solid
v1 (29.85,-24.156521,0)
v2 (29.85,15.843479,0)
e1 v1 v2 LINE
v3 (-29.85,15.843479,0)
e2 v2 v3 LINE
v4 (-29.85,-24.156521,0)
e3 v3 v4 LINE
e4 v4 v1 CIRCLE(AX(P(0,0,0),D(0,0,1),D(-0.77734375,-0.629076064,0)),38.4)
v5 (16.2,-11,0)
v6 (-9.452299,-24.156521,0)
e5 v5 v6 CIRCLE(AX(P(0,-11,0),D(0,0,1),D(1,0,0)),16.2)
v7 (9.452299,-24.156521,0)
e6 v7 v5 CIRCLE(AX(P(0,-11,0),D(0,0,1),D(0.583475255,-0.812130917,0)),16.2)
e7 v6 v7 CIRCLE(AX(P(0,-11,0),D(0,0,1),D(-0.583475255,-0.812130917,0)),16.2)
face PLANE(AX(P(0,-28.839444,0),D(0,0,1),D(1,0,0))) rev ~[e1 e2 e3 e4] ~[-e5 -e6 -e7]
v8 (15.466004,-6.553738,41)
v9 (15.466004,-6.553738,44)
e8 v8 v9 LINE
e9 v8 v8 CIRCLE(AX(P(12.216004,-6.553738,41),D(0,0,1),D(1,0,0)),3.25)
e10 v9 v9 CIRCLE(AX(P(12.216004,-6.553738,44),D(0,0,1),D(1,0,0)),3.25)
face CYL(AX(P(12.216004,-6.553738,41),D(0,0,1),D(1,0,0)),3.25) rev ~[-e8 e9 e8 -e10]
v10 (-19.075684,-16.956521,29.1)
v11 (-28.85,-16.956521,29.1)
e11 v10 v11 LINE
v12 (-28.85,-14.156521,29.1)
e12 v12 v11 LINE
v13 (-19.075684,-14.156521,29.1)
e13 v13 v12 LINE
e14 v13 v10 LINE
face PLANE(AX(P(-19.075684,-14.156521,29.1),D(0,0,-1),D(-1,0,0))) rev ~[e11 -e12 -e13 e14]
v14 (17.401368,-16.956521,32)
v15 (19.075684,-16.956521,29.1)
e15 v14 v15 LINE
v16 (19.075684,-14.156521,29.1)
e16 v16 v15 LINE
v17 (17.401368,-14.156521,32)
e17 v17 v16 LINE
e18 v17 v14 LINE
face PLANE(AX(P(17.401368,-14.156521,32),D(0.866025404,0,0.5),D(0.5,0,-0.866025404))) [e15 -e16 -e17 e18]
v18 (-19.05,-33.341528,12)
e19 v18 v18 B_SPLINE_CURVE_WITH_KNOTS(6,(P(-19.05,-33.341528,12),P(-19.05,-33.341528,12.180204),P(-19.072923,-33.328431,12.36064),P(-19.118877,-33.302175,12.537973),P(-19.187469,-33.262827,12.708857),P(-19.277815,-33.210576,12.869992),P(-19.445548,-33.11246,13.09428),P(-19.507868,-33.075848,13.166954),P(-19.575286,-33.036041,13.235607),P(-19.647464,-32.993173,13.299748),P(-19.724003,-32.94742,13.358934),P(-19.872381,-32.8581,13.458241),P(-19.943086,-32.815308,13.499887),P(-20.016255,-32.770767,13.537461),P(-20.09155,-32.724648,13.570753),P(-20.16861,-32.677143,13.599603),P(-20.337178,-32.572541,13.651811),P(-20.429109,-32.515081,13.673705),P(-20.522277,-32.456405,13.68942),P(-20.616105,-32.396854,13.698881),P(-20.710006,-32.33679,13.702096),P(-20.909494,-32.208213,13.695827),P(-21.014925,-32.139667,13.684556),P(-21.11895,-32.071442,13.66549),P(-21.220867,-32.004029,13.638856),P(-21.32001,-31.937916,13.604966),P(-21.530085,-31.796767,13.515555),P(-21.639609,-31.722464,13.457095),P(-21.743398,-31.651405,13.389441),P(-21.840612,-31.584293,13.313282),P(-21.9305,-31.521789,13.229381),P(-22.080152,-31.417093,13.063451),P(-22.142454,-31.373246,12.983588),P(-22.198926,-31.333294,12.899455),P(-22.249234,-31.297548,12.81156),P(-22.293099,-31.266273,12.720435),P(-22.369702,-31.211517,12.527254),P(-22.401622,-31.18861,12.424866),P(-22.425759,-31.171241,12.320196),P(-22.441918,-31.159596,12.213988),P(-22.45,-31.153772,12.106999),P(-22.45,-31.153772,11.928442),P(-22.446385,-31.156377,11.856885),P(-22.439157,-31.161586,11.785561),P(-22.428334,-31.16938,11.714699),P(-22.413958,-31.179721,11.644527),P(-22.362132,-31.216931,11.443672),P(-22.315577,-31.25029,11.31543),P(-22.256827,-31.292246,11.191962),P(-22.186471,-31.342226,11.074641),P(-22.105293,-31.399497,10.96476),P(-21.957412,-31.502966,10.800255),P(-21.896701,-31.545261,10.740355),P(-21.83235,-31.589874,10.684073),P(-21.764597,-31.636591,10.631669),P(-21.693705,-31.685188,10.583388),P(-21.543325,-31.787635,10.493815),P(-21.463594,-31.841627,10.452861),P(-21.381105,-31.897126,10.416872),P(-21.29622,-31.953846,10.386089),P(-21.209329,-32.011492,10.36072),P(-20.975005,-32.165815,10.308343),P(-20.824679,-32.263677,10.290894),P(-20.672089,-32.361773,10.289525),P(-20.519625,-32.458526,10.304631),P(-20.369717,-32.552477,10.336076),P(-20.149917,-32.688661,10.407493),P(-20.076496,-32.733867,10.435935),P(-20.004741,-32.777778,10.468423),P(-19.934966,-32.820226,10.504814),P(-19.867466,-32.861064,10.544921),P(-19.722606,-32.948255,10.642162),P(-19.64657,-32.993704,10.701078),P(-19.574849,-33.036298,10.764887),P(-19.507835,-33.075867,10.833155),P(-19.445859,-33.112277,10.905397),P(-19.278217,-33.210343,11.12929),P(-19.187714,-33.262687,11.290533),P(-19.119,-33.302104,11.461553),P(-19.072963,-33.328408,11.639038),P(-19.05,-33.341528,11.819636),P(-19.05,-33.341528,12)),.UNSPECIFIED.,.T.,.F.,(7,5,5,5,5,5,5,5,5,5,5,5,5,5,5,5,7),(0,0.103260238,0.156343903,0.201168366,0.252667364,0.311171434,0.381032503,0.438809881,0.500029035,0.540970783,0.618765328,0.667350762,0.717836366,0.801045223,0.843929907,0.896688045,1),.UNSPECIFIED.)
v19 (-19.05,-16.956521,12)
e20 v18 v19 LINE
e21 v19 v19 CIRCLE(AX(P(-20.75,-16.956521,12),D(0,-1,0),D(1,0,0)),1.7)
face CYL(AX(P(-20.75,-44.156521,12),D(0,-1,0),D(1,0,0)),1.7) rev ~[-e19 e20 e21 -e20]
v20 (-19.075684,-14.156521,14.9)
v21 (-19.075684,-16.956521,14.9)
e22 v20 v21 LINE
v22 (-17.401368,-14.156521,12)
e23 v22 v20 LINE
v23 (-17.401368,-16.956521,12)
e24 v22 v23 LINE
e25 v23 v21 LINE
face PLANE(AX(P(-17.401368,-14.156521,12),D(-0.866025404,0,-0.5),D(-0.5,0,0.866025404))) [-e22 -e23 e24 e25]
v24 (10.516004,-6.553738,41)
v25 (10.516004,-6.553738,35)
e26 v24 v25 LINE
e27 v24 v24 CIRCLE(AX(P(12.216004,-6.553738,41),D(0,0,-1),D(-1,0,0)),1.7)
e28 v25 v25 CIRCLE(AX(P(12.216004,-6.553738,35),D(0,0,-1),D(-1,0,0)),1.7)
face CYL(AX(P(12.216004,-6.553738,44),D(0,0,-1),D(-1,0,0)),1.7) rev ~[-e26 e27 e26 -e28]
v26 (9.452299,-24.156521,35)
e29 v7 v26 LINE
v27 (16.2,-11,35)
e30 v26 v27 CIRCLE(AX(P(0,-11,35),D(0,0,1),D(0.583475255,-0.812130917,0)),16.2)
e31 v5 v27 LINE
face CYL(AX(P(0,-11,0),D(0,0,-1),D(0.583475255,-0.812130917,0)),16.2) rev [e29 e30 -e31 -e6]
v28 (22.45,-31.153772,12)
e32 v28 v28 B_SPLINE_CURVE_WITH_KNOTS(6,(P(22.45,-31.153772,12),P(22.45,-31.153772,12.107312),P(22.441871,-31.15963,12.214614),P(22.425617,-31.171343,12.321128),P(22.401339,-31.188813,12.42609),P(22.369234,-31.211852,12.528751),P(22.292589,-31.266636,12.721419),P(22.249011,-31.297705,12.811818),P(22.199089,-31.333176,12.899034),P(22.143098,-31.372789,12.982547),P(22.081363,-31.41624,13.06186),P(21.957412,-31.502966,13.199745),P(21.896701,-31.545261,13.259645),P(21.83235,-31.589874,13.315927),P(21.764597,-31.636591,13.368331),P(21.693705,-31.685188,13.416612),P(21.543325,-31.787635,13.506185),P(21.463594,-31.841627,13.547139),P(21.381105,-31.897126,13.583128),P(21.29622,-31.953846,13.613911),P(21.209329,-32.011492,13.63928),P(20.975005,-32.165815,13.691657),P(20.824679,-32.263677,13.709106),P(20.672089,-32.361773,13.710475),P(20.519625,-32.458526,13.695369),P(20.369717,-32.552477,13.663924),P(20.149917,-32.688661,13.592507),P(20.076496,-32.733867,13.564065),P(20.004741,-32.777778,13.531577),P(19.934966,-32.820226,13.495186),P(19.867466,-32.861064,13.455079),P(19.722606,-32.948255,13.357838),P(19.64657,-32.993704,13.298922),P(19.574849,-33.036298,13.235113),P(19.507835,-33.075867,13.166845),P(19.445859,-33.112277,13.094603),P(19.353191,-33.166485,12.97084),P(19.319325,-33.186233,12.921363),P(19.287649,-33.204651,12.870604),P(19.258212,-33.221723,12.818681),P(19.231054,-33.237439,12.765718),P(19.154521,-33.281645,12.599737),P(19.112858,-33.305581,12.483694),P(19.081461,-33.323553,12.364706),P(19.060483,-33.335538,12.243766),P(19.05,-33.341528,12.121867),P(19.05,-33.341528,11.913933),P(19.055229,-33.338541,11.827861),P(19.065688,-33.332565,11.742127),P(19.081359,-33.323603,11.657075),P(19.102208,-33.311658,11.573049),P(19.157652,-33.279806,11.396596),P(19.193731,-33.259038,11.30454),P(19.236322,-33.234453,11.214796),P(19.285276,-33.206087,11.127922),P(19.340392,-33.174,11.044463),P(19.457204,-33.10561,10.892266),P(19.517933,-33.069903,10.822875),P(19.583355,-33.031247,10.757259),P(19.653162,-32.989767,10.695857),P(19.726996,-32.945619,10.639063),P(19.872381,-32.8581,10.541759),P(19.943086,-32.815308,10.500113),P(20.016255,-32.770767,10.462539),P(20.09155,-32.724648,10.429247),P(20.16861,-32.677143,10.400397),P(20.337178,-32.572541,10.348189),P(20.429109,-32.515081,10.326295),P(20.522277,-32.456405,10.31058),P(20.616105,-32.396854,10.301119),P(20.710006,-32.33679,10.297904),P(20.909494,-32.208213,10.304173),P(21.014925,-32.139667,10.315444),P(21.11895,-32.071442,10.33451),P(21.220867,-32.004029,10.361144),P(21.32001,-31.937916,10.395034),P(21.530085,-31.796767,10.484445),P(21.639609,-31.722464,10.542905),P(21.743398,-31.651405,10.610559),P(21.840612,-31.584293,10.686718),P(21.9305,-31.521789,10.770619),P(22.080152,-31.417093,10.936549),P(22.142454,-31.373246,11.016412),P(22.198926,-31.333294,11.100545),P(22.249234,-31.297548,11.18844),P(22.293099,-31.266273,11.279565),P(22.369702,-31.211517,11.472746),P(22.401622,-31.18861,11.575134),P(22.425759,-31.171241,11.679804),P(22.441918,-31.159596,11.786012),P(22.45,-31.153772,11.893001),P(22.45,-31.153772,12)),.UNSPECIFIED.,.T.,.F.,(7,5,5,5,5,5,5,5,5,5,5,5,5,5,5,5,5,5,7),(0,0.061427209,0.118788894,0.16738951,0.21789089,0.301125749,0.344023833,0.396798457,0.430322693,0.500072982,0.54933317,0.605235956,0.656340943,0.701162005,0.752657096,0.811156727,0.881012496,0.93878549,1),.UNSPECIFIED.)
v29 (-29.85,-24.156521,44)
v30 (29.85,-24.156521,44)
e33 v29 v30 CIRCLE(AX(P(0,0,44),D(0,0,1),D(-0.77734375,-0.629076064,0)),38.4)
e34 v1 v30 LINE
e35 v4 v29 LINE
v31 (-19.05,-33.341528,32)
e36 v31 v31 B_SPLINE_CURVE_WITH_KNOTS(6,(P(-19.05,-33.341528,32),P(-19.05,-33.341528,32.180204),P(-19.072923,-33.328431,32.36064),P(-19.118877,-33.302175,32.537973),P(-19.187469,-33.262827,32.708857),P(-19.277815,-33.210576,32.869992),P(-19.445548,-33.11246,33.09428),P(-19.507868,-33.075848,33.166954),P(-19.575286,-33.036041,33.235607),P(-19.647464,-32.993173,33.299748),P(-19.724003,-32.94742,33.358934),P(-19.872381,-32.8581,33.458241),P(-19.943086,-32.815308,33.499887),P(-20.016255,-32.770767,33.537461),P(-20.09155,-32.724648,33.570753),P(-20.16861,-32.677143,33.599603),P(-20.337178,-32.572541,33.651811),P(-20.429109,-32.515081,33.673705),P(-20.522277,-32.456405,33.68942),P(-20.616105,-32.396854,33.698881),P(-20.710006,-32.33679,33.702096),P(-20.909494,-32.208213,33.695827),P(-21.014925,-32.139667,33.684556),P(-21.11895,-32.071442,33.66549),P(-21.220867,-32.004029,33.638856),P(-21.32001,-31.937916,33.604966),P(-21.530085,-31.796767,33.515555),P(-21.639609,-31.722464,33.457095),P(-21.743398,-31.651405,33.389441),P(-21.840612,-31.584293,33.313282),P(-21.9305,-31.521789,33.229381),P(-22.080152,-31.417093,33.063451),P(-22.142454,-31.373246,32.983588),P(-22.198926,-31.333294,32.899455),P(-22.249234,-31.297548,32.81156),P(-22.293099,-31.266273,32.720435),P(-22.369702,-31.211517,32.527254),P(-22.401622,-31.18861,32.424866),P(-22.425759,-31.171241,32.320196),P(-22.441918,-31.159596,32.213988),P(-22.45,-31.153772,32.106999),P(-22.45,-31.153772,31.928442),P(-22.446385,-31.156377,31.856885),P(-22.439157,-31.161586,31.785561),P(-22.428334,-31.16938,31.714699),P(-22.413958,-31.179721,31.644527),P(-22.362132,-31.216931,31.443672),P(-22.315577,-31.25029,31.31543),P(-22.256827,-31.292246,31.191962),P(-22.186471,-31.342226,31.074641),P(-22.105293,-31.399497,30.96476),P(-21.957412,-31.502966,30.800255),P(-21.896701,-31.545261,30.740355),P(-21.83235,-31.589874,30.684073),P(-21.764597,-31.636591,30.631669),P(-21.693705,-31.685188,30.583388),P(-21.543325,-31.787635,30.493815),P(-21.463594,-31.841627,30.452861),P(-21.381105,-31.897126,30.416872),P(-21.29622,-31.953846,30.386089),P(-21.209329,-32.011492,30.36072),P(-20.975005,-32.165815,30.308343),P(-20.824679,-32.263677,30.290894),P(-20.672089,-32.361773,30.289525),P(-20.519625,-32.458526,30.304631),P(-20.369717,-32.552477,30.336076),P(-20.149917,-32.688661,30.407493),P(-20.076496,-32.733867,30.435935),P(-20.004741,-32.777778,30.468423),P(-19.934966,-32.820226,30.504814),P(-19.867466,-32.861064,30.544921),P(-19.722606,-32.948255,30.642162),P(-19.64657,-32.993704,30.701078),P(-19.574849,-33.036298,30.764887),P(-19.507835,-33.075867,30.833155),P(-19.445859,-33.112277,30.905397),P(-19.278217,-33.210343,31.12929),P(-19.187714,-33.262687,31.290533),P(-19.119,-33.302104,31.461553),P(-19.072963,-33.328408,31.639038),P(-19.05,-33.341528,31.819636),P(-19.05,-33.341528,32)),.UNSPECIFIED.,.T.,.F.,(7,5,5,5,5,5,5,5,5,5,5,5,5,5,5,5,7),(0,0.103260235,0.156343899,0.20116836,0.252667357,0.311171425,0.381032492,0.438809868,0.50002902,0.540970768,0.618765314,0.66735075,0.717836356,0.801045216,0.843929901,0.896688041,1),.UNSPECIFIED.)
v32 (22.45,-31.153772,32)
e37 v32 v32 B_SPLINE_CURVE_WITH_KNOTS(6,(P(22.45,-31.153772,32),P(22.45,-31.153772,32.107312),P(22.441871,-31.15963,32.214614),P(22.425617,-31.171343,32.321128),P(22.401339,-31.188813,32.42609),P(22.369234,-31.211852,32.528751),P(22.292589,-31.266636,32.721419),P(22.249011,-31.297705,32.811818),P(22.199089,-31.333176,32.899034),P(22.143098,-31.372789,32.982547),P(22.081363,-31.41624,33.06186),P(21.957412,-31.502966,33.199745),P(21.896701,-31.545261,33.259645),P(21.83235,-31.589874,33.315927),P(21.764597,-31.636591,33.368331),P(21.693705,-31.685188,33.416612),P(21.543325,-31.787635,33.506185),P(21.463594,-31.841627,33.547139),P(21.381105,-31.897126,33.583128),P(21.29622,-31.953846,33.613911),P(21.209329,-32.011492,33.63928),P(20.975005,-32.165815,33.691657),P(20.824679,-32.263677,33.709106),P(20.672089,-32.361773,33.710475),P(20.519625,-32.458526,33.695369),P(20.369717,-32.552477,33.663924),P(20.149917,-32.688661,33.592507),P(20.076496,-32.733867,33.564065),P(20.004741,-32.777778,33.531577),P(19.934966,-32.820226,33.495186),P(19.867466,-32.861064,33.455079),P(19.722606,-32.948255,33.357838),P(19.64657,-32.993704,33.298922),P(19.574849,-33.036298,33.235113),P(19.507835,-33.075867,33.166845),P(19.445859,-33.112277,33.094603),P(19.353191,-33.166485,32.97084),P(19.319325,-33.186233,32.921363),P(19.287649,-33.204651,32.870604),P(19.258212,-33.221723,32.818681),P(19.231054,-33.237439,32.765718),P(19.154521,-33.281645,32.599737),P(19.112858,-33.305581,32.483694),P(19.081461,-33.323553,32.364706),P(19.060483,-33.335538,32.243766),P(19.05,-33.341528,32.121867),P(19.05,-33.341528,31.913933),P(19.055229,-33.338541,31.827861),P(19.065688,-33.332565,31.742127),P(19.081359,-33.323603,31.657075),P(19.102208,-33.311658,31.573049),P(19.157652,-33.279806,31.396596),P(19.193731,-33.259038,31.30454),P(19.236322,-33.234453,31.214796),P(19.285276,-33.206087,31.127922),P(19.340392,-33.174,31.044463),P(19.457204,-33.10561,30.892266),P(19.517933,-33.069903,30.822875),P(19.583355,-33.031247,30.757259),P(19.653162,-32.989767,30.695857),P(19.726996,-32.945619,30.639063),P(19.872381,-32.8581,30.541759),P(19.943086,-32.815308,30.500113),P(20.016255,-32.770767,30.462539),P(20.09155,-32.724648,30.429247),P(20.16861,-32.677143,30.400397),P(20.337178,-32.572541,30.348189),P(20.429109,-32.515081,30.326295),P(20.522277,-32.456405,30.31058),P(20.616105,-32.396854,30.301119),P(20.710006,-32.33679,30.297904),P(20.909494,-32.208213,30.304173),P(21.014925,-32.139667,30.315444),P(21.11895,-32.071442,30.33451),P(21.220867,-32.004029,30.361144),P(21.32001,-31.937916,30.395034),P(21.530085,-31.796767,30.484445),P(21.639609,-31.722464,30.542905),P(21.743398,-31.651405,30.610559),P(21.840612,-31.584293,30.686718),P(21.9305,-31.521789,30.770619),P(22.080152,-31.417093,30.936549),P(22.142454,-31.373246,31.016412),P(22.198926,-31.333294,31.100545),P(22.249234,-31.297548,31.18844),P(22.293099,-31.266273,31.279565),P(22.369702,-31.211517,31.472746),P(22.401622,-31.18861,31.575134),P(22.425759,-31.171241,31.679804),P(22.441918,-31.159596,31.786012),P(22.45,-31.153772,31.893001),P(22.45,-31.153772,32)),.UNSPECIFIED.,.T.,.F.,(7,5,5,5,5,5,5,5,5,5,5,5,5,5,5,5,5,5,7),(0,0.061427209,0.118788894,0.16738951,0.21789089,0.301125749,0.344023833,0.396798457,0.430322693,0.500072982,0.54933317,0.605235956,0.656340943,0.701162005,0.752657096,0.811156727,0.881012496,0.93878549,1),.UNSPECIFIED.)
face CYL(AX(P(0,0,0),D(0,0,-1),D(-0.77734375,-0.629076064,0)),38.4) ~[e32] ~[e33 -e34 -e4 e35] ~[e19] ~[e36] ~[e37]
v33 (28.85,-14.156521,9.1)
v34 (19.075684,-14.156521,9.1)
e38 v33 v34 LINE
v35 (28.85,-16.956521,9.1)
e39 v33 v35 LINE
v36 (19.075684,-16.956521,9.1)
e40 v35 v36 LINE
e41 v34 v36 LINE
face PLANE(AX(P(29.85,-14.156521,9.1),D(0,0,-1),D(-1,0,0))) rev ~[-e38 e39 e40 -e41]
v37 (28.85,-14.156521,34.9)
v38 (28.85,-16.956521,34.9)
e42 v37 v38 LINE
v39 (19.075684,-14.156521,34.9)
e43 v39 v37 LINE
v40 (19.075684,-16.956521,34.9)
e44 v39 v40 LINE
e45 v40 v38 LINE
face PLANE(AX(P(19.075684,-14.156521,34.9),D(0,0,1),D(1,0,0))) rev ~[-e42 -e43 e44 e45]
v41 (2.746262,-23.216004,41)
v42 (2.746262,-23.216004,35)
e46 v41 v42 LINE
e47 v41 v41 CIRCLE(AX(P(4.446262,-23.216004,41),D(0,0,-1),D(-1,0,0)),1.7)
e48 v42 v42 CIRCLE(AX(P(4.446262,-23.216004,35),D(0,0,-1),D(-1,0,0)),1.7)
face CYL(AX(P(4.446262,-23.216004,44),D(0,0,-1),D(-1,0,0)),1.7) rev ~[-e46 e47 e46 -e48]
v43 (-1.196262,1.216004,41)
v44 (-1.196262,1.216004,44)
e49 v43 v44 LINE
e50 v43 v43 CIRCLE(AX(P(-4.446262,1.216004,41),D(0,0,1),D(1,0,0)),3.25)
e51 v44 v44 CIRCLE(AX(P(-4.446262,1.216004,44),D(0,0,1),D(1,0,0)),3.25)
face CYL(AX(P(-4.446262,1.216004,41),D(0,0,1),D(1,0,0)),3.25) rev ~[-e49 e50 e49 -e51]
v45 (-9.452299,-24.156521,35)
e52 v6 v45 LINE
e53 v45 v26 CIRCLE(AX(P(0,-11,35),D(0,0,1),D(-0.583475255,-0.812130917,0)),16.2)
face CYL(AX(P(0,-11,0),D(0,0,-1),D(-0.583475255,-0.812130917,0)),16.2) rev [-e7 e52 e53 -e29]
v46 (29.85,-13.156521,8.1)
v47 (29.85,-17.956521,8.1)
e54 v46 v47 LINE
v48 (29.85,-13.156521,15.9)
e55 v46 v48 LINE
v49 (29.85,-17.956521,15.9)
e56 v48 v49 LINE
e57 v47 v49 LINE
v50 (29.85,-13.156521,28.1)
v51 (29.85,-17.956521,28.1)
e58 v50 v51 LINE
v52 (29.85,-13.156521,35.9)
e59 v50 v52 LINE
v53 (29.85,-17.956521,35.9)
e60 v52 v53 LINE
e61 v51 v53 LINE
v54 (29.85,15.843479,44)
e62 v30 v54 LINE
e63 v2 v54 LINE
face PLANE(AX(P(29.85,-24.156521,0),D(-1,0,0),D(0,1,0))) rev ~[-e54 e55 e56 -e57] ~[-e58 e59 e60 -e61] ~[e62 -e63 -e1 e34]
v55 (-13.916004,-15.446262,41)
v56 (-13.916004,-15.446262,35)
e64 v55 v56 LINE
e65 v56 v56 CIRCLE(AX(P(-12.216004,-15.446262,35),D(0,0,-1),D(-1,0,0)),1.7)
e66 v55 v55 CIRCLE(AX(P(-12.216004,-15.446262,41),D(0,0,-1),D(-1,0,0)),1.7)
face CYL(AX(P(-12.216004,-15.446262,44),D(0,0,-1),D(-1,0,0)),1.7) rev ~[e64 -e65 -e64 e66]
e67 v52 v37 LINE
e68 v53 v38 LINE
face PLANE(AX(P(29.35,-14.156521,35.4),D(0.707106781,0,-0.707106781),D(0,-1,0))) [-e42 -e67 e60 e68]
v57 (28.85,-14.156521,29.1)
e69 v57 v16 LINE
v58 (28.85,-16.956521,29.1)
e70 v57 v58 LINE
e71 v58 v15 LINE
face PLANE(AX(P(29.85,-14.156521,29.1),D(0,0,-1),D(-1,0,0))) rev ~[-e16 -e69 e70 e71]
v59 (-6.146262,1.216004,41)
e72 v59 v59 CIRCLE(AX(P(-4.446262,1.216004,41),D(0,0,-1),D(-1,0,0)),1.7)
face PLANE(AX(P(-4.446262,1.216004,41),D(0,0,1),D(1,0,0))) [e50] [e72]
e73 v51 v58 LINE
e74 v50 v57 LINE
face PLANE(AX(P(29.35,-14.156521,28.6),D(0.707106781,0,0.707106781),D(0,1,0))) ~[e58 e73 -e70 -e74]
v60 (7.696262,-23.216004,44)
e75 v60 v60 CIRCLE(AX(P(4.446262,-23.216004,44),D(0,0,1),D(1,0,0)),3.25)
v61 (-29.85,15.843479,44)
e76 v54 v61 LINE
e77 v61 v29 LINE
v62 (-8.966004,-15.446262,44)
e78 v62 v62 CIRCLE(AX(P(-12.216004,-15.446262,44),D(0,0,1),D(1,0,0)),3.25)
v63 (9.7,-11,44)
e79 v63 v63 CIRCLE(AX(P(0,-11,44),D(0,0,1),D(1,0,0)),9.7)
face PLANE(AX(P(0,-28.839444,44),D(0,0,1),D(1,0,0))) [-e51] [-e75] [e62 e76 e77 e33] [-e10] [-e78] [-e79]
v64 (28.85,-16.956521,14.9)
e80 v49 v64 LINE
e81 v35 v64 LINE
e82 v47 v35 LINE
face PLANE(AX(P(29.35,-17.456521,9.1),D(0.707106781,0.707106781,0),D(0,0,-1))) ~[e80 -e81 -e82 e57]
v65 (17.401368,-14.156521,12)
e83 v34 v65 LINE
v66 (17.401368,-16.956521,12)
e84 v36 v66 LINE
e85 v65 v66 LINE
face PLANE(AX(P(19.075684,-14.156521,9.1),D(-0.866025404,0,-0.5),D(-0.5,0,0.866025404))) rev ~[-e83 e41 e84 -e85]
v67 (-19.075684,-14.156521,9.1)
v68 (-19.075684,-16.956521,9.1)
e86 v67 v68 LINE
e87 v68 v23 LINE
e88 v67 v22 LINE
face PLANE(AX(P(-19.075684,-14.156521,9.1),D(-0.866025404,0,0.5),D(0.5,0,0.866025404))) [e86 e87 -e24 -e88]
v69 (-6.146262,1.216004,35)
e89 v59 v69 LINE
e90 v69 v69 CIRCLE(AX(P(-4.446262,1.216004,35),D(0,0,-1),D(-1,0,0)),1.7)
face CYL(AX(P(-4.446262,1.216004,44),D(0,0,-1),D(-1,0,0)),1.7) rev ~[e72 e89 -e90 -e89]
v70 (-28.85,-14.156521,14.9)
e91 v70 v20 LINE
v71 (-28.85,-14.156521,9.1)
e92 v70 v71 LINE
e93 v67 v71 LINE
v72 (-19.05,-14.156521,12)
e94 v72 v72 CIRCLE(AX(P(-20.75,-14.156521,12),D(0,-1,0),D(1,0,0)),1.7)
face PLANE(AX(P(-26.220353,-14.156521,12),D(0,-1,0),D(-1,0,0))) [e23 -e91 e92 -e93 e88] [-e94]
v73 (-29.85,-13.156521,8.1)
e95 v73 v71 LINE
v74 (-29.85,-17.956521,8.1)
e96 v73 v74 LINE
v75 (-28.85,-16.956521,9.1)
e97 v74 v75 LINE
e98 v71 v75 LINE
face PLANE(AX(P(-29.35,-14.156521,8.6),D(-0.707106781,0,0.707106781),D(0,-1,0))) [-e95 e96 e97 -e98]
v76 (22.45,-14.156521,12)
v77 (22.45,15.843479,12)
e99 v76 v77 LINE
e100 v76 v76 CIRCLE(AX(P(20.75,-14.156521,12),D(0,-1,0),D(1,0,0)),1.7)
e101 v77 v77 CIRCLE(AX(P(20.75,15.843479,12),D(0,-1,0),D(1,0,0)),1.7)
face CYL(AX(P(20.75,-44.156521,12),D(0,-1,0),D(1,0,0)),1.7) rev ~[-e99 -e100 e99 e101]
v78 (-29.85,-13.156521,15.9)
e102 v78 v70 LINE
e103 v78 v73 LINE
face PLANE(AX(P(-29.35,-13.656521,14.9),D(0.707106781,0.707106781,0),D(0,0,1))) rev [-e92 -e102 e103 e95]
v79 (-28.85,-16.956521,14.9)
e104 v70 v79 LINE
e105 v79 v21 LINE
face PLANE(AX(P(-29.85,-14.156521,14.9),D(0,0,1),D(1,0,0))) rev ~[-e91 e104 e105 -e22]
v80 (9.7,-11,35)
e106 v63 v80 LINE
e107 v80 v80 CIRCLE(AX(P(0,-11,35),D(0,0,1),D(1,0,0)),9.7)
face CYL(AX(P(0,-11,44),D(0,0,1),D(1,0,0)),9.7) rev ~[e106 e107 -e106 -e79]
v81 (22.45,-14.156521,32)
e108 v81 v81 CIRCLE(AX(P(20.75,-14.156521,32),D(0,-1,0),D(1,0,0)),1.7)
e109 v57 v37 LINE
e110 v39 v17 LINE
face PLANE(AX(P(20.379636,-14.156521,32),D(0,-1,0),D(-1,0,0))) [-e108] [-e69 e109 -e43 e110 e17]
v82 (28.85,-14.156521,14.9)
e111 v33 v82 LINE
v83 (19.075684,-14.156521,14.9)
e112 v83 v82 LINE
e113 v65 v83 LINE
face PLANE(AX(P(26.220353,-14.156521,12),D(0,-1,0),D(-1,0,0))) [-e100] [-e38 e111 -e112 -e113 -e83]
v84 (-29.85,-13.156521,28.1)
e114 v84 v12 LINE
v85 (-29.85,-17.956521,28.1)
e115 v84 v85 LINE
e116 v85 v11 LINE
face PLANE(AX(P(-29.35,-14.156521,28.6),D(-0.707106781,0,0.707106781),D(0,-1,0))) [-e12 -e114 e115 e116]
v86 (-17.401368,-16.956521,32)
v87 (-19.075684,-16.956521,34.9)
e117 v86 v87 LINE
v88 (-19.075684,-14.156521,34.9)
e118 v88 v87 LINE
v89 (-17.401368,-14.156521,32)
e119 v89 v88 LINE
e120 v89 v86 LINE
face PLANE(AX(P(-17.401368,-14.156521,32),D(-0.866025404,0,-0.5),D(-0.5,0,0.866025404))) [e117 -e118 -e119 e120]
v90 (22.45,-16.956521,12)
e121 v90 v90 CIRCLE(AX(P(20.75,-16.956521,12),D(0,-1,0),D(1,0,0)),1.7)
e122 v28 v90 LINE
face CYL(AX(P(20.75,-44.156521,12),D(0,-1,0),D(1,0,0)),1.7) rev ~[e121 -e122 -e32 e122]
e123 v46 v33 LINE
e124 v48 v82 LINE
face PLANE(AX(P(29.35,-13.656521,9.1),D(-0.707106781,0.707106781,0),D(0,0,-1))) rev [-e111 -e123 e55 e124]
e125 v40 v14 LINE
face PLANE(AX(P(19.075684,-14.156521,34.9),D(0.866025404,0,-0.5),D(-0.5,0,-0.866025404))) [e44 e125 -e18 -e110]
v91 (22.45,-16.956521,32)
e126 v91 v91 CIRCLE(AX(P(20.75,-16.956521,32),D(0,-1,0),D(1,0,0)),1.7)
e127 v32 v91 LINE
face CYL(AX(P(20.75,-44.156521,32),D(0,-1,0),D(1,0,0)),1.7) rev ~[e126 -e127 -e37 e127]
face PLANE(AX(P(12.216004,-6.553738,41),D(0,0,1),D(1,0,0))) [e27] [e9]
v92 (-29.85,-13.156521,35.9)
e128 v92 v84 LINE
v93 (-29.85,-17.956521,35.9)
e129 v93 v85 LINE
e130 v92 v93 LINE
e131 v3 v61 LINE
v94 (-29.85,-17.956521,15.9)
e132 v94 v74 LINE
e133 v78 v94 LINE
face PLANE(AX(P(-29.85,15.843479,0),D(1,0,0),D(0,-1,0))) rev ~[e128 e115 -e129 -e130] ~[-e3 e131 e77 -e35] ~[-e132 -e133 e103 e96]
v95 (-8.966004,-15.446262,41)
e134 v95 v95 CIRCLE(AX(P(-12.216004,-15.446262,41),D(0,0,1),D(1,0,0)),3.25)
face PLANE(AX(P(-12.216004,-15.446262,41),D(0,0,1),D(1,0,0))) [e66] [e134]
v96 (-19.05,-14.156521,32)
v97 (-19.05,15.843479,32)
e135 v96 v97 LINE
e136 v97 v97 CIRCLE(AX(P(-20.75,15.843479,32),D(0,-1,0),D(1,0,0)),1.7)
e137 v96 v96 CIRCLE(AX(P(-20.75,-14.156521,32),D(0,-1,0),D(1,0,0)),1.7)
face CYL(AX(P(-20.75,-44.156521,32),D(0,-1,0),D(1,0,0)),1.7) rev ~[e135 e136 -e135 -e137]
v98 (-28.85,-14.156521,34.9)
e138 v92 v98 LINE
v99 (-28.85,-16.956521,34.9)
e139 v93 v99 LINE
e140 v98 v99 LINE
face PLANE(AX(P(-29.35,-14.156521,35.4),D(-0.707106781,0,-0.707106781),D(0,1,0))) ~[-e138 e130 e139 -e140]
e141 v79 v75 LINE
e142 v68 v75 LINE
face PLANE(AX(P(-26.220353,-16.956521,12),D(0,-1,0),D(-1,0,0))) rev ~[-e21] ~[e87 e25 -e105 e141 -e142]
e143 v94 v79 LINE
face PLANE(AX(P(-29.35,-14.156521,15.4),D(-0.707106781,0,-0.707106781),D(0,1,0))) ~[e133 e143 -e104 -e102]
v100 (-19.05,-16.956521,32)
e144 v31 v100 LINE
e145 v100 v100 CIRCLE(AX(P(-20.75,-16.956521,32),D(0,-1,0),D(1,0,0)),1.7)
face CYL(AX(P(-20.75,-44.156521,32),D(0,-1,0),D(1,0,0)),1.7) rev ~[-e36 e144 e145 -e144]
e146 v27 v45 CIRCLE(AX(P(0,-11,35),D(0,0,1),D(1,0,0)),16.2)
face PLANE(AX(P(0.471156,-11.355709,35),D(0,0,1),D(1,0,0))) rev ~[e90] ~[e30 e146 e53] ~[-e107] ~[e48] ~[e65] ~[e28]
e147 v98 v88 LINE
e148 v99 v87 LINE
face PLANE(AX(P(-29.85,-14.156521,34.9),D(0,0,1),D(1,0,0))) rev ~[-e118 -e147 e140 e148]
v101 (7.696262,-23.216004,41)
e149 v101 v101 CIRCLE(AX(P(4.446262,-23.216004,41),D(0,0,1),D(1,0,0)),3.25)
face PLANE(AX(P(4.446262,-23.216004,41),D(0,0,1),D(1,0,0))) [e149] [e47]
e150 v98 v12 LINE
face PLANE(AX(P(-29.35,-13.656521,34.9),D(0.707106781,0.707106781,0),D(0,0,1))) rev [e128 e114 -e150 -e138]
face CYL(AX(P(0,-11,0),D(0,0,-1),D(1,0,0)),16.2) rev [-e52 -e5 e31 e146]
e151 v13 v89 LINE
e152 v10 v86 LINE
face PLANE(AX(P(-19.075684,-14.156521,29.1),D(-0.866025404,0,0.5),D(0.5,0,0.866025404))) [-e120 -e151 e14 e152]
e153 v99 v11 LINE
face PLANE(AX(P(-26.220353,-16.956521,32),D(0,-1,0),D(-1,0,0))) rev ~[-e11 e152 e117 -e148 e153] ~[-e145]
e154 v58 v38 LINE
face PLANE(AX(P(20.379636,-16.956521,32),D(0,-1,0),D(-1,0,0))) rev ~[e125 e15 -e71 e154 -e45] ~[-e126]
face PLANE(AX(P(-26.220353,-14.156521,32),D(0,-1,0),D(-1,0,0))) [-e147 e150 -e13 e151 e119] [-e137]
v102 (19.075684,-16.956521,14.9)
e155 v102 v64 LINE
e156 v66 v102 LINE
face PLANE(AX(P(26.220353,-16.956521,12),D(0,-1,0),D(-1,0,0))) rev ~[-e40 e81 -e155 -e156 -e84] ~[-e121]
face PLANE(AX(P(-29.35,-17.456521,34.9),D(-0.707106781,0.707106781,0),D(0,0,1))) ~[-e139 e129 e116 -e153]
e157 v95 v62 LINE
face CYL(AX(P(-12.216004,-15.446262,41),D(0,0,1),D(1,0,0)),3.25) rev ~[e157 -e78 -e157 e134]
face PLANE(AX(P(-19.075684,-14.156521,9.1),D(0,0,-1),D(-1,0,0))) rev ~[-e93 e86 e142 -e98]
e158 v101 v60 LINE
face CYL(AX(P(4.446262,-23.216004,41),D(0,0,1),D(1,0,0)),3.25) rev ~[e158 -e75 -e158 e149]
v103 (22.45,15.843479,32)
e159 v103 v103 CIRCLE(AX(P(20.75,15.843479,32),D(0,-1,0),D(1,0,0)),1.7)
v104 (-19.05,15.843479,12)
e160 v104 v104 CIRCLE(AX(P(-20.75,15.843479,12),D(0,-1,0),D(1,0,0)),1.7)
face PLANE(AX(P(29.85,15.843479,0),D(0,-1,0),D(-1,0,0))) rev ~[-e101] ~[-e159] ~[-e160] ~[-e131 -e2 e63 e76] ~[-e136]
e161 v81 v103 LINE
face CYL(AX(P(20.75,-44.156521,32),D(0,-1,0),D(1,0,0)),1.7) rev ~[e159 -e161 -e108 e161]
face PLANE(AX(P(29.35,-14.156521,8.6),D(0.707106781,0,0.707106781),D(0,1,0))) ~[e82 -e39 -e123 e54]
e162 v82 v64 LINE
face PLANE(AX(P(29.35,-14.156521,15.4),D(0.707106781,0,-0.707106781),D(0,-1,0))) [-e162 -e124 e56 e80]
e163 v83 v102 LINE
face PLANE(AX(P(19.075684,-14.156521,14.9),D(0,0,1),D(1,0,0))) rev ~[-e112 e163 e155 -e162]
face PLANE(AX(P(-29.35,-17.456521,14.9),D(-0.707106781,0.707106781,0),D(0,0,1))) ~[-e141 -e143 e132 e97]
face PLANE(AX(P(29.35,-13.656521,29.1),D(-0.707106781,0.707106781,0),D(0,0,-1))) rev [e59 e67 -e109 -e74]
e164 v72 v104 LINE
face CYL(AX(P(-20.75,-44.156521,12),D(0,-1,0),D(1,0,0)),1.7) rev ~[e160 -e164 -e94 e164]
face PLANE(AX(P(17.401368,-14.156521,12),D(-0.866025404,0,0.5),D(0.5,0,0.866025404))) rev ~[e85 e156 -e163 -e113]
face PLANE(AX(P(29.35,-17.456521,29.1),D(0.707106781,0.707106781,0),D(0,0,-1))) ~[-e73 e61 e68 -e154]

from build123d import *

# Parameters (mm, degrees)
BOSS_EXTRUDE1_DEPTH            = 44
CUT_EXTRUDE1_DEPTH             = 35
CUT_EXTRUDE2_REACH             = 67.586
SKETCH2_R                      = 9.7
CBORE_FOR_M3_SHCS1_D           = 3.4
CBORE_FOR_M3_SHCS1_CBORE_D     = 6.5
CBORE_FOR_M3_SHCS1_CBORE_DEPTH = 3
CUT_EXTRUDE3_REACH             = 82.169
SKETCH6_R                      = 1.7
CUT_EXTRUDE4_DEPTH             = 2.8
CHAMFER1_SIZE                  = 1


with BuildPart() as part:
    # Sketch1 → Boss-Extrude1 (new body)
    with BuildSketch(Plane.XY):
        with BuildLine():
            Line((-9.452299133, -24.156520859), (-29.85, -24.156520859))
            ThreePointArc((-29.85, -24.156520859), (0, -38.4), (29.85, -24.156520859))
            Line((29.85, -24.156520859), (9.452299133, -24.156520859))
            ThreePointArc((9.452299133, -24.156520859), (0, -27.2), (-9.452299133, -24.156520859))
        make_face()
        with BuildLine():
            Line((29.85, 15.843479141), (-29.85, 15.843479141))
            Line((-29.85, 15.843479141), (-29.85, -24.156520859))
            Line((-29.85, -24.156520859), (-9.452299133, -24.156520859))
            ThreePointArc((-9.452299133, -24.156520859), (-7.392995132, 3.414701626), (16.2, -11))
            ThreePointArc((16.2, -11), (14.414701626, -18.392995132), (9.452299133, -24.156520859))
            Line((9.452299133, -24.156520859), (29.85, -24.156520859))
            Line((29.85, -24.156520859), (29.85, 15.843479141))
        make_face()
        with BuildLine():
            ThreePointArc((16.2, -11), (-7.392995132, 3.414701626), (-9.452299133, -24.156520859))
            Line((-9.452299133, -24.156520859), (9.452299133, -24.156520859))
            ThreePointArc((9.452299133, -24.156520859), (14.414701626, -18.392995132), (16.2, -11))
        make_face()
        with BuildLine():
            Line((9.452299133, -24.156520859), (-9.452299133, -24.156520859))
            ThreePointArc((-9.452299133, -24.156520859), (0, -27.2), (9.452299133, -24.156520859))
        make_face()
    extrude(amount=BOSS_EXTRUDE1_DEPTH)

    # Sketch1<3> → Cut-Extrude1 (cut)
    with BuildSketch(Plane.XY):
        with BuildLine():
            ThreePointArc((16.2, -11), (-7.392995132, 3.414701626), (-9.452299133, -24.156520859))
            Line((-9.452299133, -24.156520859), (9.452299133, -24.156520859))
            ThreePointArc((9.452299133, -24.156520859), (14.414701626, -18.392995132), (16.2, -11))
        make_face()
        with BuildLine():
            Line((9.452299133, -24.156520859), (-9.452299133, -24.156520859))
            ThreePointArc((-9.452299133, -24.156520859), (0, -27.2), (9.452299133, -24.156520859))
        make_face()
    extrude(amount=CUT_EXTRUDE1_DEPTH, mode=Mode.SUBTRACT)

    # Sketch2 → Cut-Extrude2 (cut, up to next)
    with BuildSketch(Plane.XY.offset(44), mode=Mode.PRIVATE) as cut_extrude2_sk1:
        with Locations((0, -11)):
            Circle(SKETCH2_R)
    cut_extrude2_tool1 = extrude(cut_extrude2_sk1.sketch, amount=-CUT_EXTRUDE2_REACH, mode=Mode.PRIVATE) & part.part
    add(cut_extrude2_tool1.solids().sort_by_distance((0, -11, 44))[0], mode=Mode.SUBTRACT)

    # CBORE for M3 SHCS1 (through all)
    with Locations(Plane.XY.offset(44)):
        with Locations((-12.21600407, -15.446261863), (12.21600407, -6.553738137), (4.446261863, -23.21600407), (-4.446261863, 1.21600407)):
            CounterBoreHole(CBORE_FOR_M3_SHCS1_D / 2, CBORE_FOR_M3_SHCS1_CBORE_D / 2, CBORE_FOR_M3_SHCS1_CBORE_DEPTH)

    # Sketch6 → Cut-Extrude3 (cut, up to next)
    with BuildSketch(Plane(origin=(0, -44.156520859, 0), x_dir=(-1, 0, 0), z_dir=(0, -1, 0)), mode=Mode.PRIVATE) as cut_extrude3_sk1:
        with Locations(Location((20.75, -12, 0), (0, 0, 180))):
            Circle(SKETCH6_R)
    cut_extrude3_tool1 = extrude(cut_extrude3_sk1.sketch, amount=-CUT_EXTRUDE3_REACH, mode=Mode.PRIVATE) & part.part
    # Sketch6 → Cut-Extrude3 (cut, up to next)
    with BuildSketch(Plane(origin=(0, -44.156520859, 0), x_dir=(-1, 0, 0), z_dir=(0, -1, 0)), mode=Mode.PRIVATE) as cut_extrude3_sk2:
        with Locations(Location((-20.75, -12, 0), (0, 0, 180))):
            Circle(SKETCH6_R)
    cut_extrude3_tool2 = extrude(cut_extrude3_sk2.sketch, amount=-CUT_EXTRUDE3_REACH, mode=Mode.PRIVATE) & part.part
    # Sketch6 → Cut-Extrude3 (cut, up to next)
    with BuildSketch(Plane(origin=(0, -44.156520859, 0), x_dir=(-1, 0, 0), z_dir=(0, -1, 0)), mode=Mode.PRIVATE) as cut_extrude3_sk3:
        with Locations(Location((20.75, -32, 0), (0, 0, 180))):
            Circle(SKETCH6_R)
    cut_extrude3_tool3 = extrude(cut_extrude3_sk3.sketch, amount=-CUT_EXTRUDE3_REACH, mode=Mode.PRIVATE) & part.part
    # Sketch6 → Cut-Extrude3 (cut, up to next)
    with BuildSketch(Plane(origin=(0, -44.156520859, 0), x_dir=(-1, 0, 0), z_dir=(0, -1, 0)), mode=Mode.PRIVATE) as cut_extrude3_sk4:
        with Locations(Location((-20.75, -32, 0), (0, 0, 180))):
            Circle(SKETCH6_R)
    cut_extrude3_tool4 = extrude(cut_extrude3_sk4.sketch, amount=-CUT_EXTRUDE3_REACH, mode=Mode.PRIVATE) & part.part
    add(cut_extrude3_tool1.solids().sort_by_distance((-20.75, -44.156521, 12))[0], mode=Mode.SUBTRACT)
    add(cut_extrude3_tool2.solids().sort_by_distance((20.75, -44.156521, 12))[0], mode=Mode.SUBTRACT)
    add(cut_extrude3_tool3.solids().sort_by_distance((-20.75, -44.156521, 32))[0], mode=Mode.SUBTRACT)
    add(cut_extrude3_tool4.solids().sort_by_distance((20.75, -44.156521, 32))[0], mode=Mode.SUBTRACT)

    # Sketch7 → Cut-Extrude4 (cut)
    with BuildSketch(Plane(origin=(0, -14.156520859, 0), x_dir=(1, 0, 0), z_dir=(0, 1, 0))):
        Polygon((-29.85, -14.9), (-29.85, -9.1), (-22.424315781, -9.1), (-24.098631561, -12), (-22.424315781, -14.9), align=None)
        Polygon((-24.098631561, -12), (-22.424315781, -14.9), (-22.424315781, -9.1), align=None)
        Polygon((-22.424315781, -14.9), (-22.424315781, -9.1), (-19.075684219, -9.1), (-17.401368439, -12), (-19.075684219, -14.9), align=None)
        Polygon((-29.85, -34.9), (-29.85, -29.1), (-22.424315781, -29.1), (-24.098631561, -32), (-22.424315781, -34.9), align=None)
        Polygon((-24.098631561, -32), (-22.424315781, -34.9), (-22.424315781, -29.1), align=None)
        Polygon((-22.424315781, -34.9), (-22.424315781, -29.1), (-19.075684219, -29.1), (-17.401368439, -32), (-19.075684219, -34.9), align=None)
        Polygon((22.424315781, -29.1), (22.424315781, -34.9), (19.075684219, -34.9), (17.401368439, -32), (19.075684219, -29.1), align=None)
        Polygon((29.85, -29.1), (29.85, -34.9), (22.424315781, -34.9), (24.098631561, -32), (22.424315781, -29.1), align=None)
        Polygon((24.098631561, -32), (22.424315781, -29.1), (22.424315781, -34.9), align=None)
        Polygon((24.098631561, -12), (22.424315781, -9.1), (29.85, -9.1), (29.85, -14.9), (22.424315781, -14.9), align=None)
        Polygon((22.424315781, -14.9), (24.098631561, -12), (22.424315781, -9.1), align=None)
        Polygon((22.424315781, -9.1), (19.075684219, -9.1), (17.401368439, -12), (19.075684219, -14.9), (22.424315781, -14.9), align=None)
    extrude(amount=-CUT_EXTRUDE4_DEPTH, mode=Mode.SUBTRACT)

    # Chamfer1
    chamfer1_edges = [part.edges().sort_by_distance(p)[0] for p in [
        (29.85, -16.956520859, 32),
        (29.85, -14.156520859, 32),
        (29.85, -15.556520859, 29.1),
        (29.85, -15.556520859, 34.9),
        (-29.85, -16.956520859, 32),
        (-29.85, -14.156520859, 32),
        (-29.85, -15.556520859, 34.9),
        (-29.85, -15.556520859, 29.1),
        (-29.85, -16.956520859, 12),
        (-29.85, -14.156520859, 12),
        (-29.85, -15.556520859, 14.9),
        (-29.85, -15.556520859, 9.1),
        (29.85, -16.956520859, 12),
        (29.85, -14.156520859, 12),
        (29.85, -15.556520859, 9.1),
        (29.85, -15.556520859, 14.9),
    ]]
    chamfer(chamfer1_edges, length=CHAMFER1_SIZE)


solid = part.part
